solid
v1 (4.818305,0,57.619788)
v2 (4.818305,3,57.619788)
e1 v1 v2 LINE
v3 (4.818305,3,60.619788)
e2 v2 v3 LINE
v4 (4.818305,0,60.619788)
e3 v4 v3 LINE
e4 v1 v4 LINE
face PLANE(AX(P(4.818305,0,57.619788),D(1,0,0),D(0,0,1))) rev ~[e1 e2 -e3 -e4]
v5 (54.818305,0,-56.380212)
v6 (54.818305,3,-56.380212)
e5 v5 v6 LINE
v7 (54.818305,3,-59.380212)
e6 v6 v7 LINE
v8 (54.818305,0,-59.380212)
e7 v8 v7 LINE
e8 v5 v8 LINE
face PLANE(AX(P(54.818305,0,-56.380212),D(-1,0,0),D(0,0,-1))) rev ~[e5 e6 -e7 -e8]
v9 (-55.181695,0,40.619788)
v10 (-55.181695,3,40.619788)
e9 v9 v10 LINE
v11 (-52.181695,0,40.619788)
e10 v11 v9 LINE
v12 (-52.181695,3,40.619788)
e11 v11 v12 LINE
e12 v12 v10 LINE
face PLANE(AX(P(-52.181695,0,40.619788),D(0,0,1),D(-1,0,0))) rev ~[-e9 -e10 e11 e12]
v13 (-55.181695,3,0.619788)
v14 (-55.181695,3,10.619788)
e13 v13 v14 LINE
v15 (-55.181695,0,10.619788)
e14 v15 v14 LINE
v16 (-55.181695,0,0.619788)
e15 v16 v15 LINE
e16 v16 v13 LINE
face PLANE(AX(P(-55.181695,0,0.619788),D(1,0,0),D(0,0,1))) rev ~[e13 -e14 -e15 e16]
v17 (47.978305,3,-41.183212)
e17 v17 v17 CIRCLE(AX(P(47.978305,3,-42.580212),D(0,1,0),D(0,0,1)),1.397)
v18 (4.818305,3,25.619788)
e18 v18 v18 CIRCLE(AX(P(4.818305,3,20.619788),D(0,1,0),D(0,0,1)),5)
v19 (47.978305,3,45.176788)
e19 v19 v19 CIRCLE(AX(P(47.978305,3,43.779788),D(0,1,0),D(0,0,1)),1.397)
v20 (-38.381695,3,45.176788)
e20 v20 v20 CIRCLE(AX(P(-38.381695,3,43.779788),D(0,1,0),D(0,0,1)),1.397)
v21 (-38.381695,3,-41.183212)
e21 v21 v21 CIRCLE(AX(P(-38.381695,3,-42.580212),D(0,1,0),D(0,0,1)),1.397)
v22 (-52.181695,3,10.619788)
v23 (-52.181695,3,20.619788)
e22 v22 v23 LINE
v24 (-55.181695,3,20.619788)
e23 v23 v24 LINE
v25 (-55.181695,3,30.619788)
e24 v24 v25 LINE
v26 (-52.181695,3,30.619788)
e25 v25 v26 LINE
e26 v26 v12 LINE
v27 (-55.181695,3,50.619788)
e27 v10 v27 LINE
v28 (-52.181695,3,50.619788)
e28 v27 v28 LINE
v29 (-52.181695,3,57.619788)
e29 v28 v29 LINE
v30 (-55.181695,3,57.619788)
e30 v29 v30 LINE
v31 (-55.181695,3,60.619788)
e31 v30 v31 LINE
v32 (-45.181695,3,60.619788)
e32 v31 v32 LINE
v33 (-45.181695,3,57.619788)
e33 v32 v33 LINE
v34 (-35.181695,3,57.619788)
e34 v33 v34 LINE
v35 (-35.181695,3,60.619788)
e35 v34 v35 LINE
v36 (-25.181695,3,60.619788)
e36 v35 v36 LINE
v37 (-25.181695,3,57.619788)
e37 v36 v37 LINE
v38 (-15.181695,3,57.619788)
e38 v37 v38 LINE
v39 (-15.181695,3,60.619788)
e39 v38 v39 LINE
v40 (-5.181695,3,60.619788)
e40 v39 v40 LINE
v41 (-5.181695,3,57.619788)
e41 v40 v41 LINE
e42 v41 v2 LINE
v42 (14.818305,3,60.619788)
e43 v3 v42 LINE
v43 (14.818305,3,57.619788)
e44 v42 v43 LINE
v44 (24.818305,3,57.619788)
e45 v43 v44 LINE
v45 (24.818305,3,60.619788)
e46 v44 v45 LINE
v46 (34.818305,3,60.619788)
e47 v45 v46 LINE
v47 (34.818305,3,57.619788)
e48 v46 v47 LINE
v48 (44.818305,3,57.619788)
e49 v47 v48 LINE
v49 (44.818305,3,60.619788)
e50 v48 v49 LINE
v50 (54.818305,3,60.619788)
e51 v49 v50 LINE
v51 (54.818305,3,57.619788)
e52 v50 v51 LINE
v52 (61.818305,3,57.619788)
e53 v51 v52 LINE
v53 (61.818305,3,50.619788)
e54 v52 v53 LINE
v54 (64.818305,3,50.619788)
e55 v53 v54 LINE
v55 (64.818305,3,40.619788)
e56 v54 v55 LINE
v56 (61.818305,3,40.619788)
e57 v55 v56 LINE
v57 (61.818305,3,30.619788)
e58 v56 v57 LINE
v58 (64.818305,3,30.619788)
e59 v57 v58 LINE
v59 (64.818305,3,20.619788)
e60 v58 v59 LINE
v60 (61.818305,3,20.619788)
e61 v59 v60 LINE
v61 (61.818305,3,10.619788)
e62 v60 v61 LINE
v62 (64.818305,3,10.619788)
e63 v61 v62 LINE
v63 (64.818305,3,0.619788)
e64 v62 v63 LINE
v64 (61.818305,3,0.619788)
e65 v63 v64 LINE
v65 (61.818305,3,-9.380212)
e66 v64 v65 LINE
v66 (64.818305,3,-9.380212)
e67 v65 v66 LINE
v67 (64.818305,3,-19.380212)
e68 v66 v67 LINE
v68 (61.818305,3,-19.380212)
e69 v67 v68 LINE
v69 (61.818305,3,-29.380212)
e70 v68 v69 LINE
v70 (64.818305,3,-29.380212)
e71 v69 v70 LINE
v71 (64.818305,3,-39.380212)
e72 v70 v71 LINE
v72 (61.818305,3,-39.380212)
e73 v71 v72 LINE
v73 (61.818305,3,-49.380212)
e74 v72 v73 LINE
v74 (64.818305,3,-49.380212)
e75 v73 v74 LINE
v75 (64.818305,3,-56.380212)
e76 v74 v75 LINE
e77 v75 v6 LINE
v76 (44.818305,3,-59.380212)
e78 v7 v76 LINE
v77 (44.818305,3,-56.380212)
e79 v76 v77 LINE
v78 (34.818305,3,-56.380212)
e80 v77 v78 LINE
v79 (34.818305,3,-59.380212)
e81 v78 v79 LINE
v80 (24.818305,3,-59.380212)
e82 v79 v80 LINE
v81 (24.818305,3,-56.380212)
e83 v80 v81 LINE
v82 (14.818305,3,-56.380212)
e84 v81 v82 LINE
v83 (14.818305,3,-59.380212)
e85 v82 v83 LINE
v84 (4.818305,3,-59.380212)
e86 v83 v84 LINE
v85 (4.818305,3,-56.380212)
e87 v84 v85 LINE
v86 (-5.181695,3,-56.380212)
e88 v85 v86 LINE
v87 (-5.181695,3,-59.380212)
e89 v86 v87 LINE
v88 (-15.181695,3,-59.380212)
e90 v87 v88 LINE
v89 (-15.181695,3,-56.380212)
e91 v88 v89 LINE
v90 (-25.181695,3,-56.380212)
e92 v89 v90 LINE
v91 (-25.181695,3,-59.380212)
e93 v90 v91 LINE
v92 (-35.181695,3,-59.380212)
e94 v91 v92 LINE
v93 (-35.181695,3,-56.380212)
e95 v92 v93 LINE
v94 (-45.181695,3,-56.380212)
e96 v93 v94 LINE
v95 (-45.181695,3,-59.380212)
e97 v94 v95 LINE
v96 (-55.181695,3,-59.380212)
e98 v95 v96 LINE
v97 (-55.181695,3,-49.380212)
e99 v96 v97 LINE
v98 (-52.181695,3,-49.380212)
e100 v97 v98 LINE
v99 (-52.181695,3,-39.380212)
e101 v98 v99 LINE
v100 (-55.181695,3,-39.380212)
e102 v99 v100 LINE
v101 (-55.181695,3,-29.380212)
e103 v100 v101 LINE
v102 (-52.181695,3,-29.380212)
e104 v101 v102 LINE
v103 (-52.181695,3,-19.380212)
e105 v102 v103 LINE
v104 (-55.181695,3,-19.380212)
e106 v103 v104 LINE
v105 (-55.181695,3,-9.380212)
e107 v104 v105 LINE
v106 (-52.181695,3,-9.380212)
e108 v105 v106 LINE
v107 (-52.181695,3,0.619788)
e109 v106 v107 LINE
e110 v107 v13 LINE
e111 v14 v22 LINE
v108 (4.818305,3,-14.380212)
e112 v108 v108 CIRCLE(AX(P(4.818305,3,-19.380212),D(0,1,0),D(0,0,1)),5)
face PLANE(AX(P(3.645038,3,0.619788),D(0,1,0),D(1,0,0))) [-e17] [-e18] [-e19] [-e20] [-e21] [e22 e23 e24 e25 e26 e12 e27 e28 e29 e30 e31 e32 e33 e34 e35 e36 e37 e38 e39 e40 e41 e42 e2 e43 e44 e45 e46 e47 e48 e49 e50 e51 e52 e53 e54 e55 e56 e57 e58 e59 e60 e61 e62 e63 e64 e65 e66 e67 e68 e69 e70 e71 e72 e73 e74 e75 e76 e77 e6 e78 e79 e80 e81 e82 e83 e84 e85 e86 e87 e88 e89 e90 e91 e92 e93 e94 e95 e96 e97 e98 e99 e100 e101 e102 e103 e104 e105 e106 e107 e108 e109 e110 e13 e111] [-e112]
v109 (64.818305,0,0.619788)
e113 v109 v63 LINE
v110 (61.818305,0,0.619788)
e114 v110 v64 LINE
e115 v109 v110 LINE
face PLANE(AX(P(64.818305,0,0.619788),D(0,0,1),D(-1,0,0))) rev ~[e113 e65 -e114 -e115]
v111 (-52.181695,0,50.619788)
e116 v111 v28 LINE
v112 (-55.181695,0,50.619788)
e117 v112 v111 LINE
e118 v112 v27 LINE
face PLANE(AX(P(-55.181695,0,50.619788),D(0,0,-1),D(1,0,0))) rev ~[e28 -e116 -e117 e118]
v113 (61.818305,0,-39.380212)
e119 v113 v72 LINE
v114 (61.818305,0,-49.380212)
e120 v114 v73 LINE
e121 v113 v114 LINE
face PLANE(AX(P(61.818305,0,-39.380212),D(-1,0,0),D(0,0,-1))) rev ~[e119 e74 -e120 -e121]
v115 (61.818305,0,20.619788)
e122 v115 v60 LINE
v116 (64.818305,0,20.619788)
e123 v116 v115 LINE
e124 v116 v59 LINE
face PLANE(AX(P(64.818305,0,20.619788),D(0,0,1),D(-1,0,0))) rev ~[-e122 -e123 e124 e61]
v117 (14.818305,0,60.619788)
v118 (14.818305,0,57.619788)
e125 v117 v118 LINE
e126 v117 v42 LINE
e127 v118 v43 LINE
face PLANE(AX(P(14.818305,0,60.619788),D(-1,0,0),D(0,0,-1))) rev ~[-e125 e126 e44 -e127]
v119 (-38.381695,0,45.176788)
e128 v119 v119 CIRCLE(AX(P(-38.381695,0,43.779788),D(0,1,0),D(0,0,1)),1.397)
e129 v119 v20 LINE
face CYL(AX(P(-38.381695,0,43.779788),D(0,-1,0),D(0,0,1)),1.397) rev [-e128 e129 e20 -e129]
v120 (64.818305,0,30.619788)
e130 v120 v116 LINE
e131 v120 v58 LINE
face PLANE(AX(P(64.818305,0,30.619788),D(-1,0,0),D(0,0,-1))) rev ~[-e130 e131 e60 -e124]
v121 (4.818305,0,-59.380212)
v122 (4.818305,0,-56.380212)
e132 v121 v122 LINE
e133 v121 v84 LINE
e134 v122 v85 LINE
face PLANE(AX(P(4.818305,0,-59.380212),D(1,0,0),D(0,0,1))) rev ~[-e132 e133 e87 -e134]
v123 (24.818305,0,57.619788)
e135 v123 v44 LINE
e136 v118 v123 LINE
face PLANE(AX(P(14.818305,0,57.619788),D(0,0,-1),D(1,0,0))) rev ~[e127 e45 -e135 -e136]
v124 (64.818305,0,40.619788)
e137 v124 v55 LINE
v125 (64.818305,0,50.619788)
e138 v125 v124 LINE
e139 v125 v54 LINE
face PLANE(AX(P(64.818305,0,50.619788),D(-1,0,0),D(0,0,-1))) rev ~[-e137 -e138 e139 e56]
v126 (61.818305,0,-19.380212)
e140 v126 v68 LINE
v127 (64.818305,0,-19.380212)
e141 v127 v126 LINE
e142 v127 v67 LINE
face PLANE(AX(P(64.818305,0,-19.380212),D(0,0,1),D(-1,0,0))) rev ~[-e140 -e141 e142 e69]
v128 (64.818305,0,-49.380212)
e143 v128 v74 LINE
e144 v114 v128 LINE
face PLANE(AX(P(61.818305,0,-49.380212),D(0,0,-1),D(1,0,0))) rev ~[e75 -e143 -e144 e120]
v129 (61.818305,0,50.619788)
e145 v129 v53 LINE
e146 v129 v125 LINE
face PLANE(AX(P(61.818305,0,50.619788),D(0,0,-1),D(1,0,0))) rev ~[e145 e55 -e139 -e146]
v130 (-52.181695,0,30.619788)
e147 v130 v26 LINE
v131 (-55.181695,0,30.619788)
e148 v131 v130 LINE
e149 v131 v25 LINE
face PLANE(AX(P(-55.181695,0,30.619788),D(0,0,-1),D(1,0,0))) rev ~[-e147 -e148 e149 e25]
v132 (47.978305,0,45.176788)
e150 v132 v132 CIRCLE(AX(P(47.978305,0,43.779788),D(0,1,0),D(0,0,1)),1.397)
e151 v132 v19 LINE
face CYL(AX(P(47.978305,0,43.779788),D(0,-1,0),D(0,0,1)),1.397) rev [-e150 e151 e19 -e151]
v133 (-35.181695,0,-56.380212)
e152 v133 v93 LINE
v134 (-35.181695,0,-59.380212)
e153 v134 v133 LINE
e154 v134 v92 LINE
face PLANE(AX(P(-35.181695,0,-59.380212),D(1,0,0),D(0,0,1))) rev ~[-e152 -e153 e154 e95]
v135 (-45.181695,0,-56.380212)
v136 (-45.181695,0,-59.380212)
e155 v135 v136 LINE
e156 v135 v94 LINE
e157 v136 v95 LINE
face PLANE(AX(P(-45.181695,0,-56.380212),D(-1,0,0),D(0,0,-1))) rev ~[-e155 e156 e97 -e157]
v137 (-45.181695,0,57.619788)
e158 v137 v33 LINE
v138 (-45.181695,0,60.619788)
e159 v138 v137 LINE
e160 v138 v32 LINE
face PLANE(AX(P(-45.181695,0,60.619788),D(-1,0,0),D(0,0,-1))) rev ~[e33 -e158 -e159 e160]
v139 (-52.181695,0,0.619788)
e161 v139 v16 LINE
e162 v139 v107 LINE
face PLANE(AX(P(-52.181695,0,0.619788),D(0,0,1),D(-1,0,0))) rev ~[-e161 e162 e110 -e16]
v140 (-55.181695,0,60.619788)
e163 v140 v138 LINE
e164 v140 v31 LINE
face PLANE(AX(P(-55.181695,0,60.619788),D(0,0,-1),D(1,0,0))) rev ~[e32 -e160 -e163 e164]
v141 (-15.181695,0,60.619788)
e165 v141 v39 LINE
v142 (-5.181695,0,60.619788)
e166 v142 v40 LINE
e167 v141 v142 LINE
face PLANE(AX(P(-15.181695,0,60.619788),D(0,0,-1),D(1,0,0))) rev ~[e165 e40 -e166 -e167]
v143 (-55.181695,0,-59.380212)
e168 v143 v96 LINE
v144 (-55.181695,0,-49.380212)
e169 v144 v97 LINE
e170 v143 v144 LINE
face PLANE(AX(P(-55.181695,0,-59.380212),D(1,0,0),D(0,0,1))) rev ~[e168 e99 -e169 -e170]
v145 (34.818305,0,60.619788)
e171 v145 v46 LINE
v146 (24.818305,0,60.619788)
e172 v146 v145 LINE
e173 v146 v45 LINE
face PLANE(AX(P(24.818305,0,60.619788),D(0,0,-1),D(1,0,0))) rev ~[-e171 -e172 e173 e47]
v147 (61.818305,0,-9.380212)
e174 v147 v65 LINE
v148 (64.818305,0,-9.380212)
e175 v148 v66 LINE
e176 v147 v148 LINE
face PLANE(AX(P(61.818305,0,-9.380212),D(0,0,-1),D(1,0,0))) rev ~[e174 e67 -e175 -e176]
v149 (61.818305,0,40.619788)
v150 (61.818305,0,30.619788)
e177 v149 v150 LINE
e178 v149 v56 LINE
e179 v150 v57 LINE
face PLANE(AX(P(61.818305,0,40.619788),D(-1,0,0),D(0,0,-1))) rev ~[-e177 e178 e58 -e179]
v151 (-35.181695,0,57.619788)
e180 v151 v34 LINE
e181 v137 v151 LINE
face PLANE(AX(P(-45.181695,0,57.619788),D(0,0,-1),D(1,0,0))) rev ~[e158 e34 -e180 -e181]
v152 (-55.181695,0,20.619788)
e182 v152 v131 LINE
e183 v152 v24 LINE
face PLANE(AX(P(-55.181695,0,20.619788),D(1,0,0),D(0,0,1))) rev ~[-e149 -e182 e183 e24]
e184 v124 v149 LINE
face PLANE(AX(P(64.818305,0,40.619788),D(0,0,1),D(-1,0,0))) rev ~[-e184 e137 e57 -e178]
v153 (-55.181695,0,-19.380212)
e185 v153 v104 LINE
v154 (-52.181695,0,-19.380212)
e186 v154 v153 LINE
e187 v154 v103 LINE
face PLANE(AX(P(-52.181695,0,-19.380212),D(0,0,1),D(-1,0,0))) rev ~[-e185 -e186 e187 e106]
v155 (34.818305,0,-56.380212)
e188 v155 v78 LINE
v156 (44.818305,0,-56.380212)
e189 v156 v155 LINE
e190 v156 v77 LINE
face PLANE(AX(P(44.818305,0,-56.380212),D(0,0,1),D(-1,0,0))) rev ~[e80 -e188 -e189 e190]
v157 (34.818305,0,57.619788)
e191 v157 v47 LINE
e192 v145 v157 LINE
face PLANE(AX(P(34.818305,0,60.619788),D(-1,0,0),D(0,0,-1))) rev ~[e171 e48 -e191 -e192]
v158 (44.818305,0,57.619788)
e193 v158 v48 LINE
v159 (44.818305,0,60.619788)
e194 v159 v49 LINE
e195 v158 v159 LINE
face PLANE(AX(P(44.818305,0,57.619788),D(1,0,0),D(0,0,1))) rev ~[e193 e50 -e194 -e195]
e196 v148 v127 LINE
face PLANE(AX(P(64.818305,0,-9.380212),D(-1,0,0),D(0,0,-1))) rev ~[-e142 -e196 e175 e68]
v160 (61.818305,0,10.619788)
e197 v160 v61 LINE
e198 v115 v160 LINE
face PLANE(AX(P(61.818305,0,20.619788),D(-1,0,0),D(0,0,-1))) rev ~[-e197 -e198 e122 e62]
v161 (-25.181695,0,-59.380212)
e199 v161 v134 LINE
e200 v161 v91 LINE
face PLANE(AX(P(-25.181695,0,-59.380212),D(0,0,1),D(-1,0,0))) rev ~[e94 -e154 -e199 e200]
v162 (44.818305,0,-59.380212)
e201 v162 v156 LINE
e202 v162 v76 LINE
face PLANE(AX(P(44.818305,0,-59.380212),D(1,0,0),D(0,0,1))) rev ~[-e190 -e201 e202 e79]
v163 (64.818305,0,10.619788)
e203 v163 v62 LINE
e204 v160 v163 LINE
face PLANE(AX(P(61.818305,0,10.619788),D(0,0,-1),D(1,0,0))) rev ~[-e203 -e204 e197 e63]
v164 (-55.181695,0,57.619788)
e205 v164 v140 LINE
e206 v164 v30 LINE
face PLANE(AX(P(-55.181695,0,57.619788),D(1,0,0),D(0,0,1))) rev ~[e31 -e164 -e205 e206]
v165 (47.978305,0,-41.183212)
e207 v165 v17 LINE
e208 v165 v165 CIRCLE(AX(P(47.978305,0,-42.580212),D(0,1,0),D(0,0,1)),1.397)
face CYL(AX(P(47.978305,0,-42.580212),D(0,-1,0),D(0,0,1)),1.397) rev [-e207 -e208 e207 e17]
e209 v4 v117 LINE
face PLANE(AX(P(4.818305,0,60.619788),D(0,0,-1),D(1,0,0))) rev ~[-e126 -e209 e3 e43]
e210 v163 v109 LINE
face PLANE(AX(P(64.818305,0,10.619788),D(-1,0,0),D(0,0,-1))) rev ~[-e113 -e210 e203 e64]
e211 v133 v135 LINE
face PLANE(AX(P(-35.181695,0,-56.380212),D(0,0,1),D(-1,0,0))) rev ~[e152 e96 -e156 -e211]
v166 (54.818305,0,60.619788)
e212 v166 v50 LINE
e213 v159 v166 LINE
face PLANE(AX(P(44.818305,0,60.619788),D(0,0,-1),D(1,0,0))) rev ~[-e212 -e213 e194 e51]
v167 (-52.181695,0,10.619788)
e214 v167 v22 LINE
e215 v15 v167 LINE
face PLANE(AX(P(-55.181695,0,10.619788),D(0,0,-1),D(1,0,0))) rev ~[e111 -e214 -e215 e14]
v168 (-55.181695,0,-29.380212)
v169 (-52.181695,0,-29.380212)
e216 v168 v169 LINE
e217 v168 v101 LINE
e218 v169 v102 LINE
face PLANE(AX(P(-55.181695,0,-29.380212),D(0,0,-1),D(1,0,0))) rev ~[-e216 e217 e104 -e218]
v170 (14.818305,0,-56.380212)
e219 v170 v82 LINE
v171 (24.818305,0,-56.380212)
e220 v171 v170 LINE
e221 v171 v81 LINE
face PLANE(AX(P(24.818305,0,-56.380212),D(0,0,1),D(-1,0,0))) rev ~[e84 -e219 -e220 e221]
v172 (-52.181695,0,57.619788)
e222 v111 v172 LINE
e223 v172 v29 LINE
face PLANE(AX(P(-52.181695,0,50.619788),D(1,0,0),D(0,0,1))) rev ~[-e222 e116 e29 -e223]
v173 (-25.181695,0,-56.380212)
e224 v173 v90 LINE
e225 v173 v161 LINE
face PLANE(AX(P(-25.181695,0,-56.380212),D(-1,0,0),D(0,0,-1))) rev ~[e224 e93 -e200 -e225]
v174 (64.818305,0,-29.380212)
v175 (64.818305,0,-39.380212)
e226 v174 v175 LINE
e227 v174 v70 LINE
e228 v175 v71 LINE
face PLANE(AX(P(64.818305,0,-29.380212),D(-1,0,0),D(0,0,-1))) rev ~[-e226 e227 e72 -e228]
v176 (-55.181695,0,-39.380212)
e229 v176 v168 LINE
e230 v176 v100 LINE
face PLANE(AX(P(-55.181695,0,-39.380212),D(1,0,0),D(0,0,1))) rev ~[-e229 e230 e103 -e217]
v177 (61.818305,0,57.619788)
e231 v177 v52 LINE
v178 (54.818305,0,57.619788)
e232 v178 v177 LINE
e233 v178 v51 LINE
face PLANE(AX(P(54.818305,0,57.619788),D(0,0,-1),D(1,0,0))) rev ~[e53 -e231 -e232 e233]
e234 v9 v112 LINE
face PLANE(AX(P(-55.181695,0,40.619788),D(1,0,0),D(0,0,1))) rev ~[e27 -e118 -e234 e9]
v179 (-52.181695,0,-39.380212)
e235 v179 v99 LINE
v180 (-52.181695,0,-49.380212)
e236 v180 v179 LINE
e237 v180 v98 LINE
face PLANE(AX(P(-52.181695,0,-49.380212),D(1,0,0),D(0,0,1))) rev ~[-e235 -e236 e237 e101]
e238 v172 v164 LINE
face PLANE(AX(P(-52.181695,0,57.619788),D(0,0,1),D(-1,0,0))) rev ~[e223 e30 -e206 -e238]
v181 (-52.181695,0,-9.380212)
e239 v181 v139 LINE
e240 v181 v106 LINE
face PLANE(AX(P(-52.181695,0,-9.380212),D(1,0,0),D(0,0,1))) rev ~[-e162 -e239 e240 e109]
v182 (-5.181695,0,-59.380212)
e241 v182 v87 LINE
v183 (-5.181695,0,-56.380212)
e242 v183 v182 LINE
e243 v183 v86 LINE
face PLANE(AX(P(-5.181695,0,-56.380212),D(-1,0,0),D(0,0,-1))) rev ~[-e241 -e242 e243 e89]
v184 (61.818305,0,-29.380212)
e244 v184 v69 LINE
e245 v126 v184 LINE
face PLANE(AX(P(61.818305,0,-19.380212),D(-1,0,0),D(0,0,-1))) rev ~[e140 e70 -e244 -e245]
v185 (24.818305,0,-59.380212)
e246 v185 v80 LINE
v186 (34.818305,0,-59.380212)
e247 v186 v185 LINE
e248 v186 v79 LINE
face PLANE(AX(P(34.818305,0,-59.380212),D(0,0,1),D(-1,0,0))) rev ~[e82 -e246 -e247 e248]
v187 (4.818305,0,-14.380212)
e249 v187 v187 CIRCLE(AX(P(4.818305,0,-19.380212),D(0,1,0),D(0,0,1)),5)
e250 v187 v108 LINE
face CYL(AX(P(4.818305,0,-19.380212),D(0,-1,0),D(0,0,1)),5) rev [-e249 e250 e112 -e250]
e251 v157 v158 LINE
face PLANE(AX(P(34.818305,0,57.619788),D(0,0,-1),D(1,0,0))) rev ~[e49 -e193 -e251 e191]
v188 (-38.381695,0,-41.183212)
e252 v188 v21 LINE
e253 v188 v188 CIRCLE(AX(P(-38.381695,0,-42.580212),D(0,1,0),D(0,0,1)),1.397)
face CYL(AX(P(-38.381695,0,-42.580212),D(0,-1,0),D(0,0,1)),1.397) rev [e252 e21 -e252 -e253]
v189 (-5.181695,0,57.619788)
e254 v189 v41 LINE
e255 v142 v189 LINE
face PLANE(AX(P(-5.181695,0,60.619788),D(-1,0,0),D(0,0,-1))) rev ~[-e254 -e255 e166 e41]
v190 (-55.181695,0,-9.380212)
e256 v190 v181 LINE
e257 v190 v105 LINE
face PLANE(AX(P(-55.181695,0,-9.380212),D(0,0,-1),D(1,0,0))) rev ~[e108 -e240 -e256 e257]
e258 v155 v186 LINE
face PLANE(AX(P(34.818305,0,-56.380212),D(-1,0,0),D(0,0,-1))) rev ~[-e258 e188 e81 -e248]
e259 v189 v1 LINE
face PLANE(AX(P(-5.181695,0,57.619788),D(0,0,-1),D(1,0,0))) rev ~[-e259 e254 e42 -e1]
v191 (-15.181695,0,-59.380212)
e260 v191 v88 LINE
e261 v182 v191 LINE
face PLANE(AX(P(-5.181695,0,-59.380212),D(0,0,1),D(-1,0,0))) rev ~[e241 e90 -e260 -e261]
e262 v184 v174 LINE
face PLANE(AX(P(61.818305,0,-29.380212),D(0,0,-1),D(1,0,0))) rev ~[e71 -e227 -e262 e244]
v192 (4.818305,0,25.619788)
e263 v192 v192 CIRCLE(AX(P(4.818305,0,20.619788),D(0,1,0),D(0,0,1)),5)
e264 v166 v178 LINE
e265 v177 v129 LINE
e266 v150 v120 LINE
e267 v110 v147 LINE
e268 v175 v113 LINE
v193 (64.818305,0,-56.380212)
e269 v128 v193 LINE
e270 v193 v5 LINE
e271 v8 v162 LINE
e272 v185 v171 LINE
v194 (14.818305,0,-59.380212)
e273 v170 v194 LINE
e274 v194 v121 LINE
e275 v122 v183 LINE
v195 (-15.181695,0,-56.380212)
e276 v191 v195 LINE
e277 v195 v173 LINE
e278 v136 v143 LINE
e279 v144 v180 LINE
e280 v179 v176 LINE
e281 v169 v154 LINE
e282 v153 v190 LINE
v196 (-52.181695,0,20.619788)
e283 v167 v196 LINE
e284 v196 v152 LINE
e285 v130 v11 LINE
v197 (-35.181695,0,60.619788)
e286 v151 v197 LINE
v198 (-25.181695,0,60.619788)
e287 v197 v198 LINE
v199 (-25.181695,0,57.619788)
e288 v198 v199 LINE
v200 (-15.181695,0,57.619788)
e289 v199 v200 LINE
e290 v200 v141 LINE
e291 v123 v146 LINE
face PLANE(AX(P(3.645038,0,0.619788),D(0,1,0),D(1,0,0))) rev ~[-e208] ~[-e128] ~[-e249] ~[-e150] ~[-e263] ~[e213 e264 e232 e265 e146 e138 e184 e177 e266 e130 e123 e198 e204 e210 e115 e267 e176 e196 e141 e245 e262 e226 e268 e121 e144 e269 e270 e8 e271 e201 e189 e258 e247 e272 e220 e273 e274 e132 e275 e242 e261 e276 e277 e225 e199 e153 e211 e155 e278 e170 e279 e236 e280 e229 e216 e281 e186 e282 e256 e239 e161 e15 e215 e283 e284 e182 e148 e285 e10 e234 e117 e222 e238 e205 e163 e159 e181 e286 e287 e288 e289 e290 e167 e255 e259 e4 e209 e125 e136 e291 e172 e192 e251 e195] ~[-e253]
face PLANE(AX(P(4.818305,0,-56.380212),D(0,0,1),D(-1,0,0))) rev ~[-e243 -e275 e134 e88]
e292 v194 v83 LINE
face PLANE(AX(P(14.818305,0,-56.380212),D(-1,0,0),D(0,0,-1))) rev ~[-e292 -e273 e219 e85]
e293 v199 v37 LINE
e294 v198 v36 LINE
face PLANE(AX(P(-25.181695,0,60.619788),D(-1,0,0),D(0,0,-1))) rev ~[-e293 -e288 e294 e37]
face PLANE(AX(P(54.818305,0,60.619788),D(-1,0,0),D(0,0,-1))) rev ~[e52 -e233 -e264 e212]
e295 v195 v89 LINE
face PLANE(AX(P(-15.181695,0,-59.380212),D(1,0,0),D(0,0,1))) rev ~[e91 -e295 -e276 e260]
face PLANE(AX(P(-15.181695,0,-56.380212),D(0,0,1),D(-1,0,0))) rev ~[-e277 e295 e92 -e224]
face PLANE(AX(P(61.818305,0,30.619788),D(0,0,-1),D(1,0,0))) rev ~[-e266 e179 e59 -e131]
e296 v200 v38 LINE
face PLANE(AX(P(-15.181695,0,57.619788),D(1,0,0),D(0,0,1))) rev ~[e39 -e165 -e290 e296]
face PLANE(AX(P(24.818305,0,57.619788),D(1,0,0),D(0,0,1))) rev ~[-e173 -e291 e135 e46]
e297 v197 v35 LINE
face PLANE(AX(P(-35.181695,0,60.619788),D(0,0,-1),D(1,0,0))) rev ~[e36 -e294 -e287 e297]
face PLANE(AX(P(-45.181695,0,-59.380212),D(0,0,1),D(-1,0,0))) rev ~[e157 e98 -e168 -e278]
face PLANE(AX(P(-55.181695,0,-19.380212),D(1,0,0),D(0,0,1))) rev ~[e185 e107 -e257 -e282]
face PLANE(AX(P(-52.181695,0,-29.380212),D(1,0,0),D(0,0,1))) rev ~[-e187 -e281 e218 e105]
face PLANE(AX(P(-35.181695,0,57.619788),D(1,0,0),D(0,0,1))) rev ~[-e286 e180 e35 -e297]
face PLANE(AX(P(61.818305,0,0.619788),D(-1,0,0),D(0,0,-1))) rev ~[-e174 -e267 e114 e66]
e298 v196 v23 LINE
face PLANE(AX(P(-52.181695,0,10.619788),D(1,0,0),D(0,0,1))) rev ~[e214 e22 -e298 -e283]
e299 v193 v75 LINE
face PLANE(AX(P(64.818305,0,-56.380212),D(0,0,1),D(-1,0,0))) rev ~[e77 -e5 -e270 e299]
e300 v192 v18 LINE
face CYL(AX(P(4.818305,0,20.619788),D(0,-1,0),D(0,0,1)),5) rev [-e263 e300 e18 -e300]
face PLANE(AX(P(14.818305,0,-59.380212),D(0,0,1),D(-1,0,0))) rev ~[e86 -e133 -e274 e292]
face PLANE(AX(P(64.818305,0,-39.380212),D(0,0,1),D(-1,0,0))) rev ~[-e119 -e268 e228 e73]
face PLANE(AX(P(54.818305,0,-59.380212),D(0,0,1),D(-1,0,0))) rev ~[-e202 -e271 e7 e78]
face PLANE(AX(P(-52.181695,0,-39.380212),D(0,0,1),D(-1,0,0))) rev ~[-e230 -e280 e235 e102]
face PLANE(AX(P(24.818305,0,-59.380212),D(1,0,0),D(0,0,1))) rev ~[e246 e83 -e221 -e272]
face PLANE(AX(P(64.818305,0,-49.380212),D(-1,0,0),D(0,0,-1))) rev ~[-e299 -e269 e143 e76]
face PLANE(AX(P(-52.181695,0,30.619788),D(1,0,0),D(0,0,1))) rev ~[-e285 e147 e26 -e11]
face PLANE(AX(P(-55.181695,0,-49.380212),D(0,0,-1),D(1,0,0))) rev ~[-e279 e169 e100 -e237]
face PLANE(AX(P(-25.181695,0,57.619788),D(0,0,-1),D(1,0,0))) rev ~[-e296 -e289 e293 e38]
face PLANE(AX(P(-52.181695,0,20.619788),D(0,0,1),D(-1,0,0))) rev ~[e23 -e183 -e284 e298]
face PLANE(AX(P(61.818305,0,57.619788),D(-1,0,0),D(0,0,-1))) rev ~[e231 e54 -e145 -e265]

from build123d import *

# Parameters (mm, degrees)
SKETCH1_R           = 1.397
SKETCH1_R_2         = 5
BOSS_EXTRUDE1_DEPTH = 3


with BuildPart() as part:
    # Sketch1 → Boss-Extrude1 (new body)
    with BuildSketch(Plane(origin=(0, 0, 0), x_dir=(1, 0, 0), z_dir=(0, 1, 0))):
        Polygon((-45.181694993, 59.380211874), (-55.181694993, 59.380211874), (-55.181694993, 49.380211874), (-52.181694993, 49.380211874), (-52.181694993, 39.380211874), (-55.181694993, 39.380211874), (-55.181694993, 29.380211874), (-52.181694993, 29.380211874), (-52.181694993, 19.380211874), (-55.181694993, 19.380211874), (-55.181694993, 9.380211874), (-52.181694993, 9.380211874), (-52.181694993, -0.619788126), (-55.181694993, -0.619788126), (-55.181694993, -10.619788126), (-52.181694993, -10.619788126), (-52.181694993, -20.619788126), (-55.181694993, -20.619788126), (-55.181694993, -30.619788126), (-52.181694993, -30.619788126), (-52.181694993, -40.619788126), (-55.181694993, -40.619788126), (-55.181694993, -50.619788126), (-52.181694993, -50.619788126), (-52.181694993, -57.619788126), (-55.181694993, -57.619788126), (-55.181694993, -60.619788126), (-45.181694993, -60.619788126), (-45.181694993, -57.619788126), (-35.181694993, -57.619788126), (-35.181694993, -60.619788126), (-25.181694993, -60.619788126), (-25.181694993, -57.619788126), (-15.181694993, -57.619788126), (-15.181694993, -60.619788126), (-5.181694993, -60.619788126), (-5.181694993, -57.619788126), (4.818305007, -57.619788126), (4.818305007, -60.619788126), (14.818305007, -60.619788126), (14.818305007, -57.619788126), (24.818305007, -57.619788126), (24.818305007, -60.619788126), (34.818305007, -60.619788126), (34.818305007, -57.619788126), (44.818305007, -57.619788126), (44.818305007, -60.619788126), (54.818305007, -60.619788126), (54.818305007, -57.619788126), (61.818305007, -57.619788126), (61.818305007, -50.619788126), (64.818305007, -50.619788126), (64.818305007, -40.619788126), (61.818305007, -40.619788126), (61.818305007, -30.619788126), (64.818305007, -30.619788126), (64.818305007, -20.619788126), (61.818305007, -20.619788126), (61.818305007, -10.619788126), (64.818305007, -10.619788126), (64.818305007, -0.619788126), (61.818305007, -0.619788126), (61.818305007, 9.380211874), (64.818305007, 9.380211874), (64.818305007, 19.380211874), (61.818305007, 19.380211874), (61.818305007, 29.380211874), (64.818305007, 29.380211874), (64.818305007, 39.380211874), (61.818305007, 39.380211874), (61.818305007, 49.380211874), (64.818305007, 49.380211874), (64.818305007, 56.380211874), (54.818305007, 56.380211874), (54.818305007, 59.380211874), (44.818305007, 59.380211874), (44.818305007, 56.380211874), (34.818305007, 56.380211874), (34.818305007, 59.380211874), (24.818305007, 59.380211874), (24.818305007, 56.380211874), (14.818305007, 56.380211874), (14.818305007, 59.380211874), (4.818305007, 59.380211874), (4.818305007, 56.380211874), (-5.181694993, 56.380211874), (-5.181694993, 59.380211874), (-15.181694993, 59.380211874), (-15.181694993, 56.380211874), (-25.181694993, 56.380211874), (-25.181694993, 59.380211874), (-35.181694993, 59.380211874), (-35.181694993, 56.380211874), (-45.181694993, 56.380211874), align=None)
        with Locations(Location((-38.381694993, -43.779788126, 0), (0, 0, 270))):
            Circle(SKETCH1_R, mode=Mode.SUBTRACT)
        with Locations(Location((47.978305007, -43.779788126, 0), (0, 0, 270))):
            Circle(SKETCH1_R, mode=Mode.SUBTRACT)
        with Locations(Location((4.818305007, -20.619788126, 0), (0, 0, 270))):
            Circle(SKETCH1_R_2, mode=Mode.SUBTRACT)
        with Locations(Location((-38.381694993, 42.580211874, 0), (0, 0, 270))):
            Circle(SKETCH1_R, mode=Mode.SUBTRACT)
        with Locations(Location((4.818305007, 19.380211874, 0), (0, 0, 270))):
            Circle(SKETCH1_R_2, mode=Mode.SUBTRACT)
        with Locations(Location((47.978305007, 42.580211874, 0), (0, 0, 270))):
            Circle(SKETCH1_R, mode=Mode.SUBTRACT)
    extrude(amount=BOSS_EXTRUDE1_DEPTH)


solid = part.part
